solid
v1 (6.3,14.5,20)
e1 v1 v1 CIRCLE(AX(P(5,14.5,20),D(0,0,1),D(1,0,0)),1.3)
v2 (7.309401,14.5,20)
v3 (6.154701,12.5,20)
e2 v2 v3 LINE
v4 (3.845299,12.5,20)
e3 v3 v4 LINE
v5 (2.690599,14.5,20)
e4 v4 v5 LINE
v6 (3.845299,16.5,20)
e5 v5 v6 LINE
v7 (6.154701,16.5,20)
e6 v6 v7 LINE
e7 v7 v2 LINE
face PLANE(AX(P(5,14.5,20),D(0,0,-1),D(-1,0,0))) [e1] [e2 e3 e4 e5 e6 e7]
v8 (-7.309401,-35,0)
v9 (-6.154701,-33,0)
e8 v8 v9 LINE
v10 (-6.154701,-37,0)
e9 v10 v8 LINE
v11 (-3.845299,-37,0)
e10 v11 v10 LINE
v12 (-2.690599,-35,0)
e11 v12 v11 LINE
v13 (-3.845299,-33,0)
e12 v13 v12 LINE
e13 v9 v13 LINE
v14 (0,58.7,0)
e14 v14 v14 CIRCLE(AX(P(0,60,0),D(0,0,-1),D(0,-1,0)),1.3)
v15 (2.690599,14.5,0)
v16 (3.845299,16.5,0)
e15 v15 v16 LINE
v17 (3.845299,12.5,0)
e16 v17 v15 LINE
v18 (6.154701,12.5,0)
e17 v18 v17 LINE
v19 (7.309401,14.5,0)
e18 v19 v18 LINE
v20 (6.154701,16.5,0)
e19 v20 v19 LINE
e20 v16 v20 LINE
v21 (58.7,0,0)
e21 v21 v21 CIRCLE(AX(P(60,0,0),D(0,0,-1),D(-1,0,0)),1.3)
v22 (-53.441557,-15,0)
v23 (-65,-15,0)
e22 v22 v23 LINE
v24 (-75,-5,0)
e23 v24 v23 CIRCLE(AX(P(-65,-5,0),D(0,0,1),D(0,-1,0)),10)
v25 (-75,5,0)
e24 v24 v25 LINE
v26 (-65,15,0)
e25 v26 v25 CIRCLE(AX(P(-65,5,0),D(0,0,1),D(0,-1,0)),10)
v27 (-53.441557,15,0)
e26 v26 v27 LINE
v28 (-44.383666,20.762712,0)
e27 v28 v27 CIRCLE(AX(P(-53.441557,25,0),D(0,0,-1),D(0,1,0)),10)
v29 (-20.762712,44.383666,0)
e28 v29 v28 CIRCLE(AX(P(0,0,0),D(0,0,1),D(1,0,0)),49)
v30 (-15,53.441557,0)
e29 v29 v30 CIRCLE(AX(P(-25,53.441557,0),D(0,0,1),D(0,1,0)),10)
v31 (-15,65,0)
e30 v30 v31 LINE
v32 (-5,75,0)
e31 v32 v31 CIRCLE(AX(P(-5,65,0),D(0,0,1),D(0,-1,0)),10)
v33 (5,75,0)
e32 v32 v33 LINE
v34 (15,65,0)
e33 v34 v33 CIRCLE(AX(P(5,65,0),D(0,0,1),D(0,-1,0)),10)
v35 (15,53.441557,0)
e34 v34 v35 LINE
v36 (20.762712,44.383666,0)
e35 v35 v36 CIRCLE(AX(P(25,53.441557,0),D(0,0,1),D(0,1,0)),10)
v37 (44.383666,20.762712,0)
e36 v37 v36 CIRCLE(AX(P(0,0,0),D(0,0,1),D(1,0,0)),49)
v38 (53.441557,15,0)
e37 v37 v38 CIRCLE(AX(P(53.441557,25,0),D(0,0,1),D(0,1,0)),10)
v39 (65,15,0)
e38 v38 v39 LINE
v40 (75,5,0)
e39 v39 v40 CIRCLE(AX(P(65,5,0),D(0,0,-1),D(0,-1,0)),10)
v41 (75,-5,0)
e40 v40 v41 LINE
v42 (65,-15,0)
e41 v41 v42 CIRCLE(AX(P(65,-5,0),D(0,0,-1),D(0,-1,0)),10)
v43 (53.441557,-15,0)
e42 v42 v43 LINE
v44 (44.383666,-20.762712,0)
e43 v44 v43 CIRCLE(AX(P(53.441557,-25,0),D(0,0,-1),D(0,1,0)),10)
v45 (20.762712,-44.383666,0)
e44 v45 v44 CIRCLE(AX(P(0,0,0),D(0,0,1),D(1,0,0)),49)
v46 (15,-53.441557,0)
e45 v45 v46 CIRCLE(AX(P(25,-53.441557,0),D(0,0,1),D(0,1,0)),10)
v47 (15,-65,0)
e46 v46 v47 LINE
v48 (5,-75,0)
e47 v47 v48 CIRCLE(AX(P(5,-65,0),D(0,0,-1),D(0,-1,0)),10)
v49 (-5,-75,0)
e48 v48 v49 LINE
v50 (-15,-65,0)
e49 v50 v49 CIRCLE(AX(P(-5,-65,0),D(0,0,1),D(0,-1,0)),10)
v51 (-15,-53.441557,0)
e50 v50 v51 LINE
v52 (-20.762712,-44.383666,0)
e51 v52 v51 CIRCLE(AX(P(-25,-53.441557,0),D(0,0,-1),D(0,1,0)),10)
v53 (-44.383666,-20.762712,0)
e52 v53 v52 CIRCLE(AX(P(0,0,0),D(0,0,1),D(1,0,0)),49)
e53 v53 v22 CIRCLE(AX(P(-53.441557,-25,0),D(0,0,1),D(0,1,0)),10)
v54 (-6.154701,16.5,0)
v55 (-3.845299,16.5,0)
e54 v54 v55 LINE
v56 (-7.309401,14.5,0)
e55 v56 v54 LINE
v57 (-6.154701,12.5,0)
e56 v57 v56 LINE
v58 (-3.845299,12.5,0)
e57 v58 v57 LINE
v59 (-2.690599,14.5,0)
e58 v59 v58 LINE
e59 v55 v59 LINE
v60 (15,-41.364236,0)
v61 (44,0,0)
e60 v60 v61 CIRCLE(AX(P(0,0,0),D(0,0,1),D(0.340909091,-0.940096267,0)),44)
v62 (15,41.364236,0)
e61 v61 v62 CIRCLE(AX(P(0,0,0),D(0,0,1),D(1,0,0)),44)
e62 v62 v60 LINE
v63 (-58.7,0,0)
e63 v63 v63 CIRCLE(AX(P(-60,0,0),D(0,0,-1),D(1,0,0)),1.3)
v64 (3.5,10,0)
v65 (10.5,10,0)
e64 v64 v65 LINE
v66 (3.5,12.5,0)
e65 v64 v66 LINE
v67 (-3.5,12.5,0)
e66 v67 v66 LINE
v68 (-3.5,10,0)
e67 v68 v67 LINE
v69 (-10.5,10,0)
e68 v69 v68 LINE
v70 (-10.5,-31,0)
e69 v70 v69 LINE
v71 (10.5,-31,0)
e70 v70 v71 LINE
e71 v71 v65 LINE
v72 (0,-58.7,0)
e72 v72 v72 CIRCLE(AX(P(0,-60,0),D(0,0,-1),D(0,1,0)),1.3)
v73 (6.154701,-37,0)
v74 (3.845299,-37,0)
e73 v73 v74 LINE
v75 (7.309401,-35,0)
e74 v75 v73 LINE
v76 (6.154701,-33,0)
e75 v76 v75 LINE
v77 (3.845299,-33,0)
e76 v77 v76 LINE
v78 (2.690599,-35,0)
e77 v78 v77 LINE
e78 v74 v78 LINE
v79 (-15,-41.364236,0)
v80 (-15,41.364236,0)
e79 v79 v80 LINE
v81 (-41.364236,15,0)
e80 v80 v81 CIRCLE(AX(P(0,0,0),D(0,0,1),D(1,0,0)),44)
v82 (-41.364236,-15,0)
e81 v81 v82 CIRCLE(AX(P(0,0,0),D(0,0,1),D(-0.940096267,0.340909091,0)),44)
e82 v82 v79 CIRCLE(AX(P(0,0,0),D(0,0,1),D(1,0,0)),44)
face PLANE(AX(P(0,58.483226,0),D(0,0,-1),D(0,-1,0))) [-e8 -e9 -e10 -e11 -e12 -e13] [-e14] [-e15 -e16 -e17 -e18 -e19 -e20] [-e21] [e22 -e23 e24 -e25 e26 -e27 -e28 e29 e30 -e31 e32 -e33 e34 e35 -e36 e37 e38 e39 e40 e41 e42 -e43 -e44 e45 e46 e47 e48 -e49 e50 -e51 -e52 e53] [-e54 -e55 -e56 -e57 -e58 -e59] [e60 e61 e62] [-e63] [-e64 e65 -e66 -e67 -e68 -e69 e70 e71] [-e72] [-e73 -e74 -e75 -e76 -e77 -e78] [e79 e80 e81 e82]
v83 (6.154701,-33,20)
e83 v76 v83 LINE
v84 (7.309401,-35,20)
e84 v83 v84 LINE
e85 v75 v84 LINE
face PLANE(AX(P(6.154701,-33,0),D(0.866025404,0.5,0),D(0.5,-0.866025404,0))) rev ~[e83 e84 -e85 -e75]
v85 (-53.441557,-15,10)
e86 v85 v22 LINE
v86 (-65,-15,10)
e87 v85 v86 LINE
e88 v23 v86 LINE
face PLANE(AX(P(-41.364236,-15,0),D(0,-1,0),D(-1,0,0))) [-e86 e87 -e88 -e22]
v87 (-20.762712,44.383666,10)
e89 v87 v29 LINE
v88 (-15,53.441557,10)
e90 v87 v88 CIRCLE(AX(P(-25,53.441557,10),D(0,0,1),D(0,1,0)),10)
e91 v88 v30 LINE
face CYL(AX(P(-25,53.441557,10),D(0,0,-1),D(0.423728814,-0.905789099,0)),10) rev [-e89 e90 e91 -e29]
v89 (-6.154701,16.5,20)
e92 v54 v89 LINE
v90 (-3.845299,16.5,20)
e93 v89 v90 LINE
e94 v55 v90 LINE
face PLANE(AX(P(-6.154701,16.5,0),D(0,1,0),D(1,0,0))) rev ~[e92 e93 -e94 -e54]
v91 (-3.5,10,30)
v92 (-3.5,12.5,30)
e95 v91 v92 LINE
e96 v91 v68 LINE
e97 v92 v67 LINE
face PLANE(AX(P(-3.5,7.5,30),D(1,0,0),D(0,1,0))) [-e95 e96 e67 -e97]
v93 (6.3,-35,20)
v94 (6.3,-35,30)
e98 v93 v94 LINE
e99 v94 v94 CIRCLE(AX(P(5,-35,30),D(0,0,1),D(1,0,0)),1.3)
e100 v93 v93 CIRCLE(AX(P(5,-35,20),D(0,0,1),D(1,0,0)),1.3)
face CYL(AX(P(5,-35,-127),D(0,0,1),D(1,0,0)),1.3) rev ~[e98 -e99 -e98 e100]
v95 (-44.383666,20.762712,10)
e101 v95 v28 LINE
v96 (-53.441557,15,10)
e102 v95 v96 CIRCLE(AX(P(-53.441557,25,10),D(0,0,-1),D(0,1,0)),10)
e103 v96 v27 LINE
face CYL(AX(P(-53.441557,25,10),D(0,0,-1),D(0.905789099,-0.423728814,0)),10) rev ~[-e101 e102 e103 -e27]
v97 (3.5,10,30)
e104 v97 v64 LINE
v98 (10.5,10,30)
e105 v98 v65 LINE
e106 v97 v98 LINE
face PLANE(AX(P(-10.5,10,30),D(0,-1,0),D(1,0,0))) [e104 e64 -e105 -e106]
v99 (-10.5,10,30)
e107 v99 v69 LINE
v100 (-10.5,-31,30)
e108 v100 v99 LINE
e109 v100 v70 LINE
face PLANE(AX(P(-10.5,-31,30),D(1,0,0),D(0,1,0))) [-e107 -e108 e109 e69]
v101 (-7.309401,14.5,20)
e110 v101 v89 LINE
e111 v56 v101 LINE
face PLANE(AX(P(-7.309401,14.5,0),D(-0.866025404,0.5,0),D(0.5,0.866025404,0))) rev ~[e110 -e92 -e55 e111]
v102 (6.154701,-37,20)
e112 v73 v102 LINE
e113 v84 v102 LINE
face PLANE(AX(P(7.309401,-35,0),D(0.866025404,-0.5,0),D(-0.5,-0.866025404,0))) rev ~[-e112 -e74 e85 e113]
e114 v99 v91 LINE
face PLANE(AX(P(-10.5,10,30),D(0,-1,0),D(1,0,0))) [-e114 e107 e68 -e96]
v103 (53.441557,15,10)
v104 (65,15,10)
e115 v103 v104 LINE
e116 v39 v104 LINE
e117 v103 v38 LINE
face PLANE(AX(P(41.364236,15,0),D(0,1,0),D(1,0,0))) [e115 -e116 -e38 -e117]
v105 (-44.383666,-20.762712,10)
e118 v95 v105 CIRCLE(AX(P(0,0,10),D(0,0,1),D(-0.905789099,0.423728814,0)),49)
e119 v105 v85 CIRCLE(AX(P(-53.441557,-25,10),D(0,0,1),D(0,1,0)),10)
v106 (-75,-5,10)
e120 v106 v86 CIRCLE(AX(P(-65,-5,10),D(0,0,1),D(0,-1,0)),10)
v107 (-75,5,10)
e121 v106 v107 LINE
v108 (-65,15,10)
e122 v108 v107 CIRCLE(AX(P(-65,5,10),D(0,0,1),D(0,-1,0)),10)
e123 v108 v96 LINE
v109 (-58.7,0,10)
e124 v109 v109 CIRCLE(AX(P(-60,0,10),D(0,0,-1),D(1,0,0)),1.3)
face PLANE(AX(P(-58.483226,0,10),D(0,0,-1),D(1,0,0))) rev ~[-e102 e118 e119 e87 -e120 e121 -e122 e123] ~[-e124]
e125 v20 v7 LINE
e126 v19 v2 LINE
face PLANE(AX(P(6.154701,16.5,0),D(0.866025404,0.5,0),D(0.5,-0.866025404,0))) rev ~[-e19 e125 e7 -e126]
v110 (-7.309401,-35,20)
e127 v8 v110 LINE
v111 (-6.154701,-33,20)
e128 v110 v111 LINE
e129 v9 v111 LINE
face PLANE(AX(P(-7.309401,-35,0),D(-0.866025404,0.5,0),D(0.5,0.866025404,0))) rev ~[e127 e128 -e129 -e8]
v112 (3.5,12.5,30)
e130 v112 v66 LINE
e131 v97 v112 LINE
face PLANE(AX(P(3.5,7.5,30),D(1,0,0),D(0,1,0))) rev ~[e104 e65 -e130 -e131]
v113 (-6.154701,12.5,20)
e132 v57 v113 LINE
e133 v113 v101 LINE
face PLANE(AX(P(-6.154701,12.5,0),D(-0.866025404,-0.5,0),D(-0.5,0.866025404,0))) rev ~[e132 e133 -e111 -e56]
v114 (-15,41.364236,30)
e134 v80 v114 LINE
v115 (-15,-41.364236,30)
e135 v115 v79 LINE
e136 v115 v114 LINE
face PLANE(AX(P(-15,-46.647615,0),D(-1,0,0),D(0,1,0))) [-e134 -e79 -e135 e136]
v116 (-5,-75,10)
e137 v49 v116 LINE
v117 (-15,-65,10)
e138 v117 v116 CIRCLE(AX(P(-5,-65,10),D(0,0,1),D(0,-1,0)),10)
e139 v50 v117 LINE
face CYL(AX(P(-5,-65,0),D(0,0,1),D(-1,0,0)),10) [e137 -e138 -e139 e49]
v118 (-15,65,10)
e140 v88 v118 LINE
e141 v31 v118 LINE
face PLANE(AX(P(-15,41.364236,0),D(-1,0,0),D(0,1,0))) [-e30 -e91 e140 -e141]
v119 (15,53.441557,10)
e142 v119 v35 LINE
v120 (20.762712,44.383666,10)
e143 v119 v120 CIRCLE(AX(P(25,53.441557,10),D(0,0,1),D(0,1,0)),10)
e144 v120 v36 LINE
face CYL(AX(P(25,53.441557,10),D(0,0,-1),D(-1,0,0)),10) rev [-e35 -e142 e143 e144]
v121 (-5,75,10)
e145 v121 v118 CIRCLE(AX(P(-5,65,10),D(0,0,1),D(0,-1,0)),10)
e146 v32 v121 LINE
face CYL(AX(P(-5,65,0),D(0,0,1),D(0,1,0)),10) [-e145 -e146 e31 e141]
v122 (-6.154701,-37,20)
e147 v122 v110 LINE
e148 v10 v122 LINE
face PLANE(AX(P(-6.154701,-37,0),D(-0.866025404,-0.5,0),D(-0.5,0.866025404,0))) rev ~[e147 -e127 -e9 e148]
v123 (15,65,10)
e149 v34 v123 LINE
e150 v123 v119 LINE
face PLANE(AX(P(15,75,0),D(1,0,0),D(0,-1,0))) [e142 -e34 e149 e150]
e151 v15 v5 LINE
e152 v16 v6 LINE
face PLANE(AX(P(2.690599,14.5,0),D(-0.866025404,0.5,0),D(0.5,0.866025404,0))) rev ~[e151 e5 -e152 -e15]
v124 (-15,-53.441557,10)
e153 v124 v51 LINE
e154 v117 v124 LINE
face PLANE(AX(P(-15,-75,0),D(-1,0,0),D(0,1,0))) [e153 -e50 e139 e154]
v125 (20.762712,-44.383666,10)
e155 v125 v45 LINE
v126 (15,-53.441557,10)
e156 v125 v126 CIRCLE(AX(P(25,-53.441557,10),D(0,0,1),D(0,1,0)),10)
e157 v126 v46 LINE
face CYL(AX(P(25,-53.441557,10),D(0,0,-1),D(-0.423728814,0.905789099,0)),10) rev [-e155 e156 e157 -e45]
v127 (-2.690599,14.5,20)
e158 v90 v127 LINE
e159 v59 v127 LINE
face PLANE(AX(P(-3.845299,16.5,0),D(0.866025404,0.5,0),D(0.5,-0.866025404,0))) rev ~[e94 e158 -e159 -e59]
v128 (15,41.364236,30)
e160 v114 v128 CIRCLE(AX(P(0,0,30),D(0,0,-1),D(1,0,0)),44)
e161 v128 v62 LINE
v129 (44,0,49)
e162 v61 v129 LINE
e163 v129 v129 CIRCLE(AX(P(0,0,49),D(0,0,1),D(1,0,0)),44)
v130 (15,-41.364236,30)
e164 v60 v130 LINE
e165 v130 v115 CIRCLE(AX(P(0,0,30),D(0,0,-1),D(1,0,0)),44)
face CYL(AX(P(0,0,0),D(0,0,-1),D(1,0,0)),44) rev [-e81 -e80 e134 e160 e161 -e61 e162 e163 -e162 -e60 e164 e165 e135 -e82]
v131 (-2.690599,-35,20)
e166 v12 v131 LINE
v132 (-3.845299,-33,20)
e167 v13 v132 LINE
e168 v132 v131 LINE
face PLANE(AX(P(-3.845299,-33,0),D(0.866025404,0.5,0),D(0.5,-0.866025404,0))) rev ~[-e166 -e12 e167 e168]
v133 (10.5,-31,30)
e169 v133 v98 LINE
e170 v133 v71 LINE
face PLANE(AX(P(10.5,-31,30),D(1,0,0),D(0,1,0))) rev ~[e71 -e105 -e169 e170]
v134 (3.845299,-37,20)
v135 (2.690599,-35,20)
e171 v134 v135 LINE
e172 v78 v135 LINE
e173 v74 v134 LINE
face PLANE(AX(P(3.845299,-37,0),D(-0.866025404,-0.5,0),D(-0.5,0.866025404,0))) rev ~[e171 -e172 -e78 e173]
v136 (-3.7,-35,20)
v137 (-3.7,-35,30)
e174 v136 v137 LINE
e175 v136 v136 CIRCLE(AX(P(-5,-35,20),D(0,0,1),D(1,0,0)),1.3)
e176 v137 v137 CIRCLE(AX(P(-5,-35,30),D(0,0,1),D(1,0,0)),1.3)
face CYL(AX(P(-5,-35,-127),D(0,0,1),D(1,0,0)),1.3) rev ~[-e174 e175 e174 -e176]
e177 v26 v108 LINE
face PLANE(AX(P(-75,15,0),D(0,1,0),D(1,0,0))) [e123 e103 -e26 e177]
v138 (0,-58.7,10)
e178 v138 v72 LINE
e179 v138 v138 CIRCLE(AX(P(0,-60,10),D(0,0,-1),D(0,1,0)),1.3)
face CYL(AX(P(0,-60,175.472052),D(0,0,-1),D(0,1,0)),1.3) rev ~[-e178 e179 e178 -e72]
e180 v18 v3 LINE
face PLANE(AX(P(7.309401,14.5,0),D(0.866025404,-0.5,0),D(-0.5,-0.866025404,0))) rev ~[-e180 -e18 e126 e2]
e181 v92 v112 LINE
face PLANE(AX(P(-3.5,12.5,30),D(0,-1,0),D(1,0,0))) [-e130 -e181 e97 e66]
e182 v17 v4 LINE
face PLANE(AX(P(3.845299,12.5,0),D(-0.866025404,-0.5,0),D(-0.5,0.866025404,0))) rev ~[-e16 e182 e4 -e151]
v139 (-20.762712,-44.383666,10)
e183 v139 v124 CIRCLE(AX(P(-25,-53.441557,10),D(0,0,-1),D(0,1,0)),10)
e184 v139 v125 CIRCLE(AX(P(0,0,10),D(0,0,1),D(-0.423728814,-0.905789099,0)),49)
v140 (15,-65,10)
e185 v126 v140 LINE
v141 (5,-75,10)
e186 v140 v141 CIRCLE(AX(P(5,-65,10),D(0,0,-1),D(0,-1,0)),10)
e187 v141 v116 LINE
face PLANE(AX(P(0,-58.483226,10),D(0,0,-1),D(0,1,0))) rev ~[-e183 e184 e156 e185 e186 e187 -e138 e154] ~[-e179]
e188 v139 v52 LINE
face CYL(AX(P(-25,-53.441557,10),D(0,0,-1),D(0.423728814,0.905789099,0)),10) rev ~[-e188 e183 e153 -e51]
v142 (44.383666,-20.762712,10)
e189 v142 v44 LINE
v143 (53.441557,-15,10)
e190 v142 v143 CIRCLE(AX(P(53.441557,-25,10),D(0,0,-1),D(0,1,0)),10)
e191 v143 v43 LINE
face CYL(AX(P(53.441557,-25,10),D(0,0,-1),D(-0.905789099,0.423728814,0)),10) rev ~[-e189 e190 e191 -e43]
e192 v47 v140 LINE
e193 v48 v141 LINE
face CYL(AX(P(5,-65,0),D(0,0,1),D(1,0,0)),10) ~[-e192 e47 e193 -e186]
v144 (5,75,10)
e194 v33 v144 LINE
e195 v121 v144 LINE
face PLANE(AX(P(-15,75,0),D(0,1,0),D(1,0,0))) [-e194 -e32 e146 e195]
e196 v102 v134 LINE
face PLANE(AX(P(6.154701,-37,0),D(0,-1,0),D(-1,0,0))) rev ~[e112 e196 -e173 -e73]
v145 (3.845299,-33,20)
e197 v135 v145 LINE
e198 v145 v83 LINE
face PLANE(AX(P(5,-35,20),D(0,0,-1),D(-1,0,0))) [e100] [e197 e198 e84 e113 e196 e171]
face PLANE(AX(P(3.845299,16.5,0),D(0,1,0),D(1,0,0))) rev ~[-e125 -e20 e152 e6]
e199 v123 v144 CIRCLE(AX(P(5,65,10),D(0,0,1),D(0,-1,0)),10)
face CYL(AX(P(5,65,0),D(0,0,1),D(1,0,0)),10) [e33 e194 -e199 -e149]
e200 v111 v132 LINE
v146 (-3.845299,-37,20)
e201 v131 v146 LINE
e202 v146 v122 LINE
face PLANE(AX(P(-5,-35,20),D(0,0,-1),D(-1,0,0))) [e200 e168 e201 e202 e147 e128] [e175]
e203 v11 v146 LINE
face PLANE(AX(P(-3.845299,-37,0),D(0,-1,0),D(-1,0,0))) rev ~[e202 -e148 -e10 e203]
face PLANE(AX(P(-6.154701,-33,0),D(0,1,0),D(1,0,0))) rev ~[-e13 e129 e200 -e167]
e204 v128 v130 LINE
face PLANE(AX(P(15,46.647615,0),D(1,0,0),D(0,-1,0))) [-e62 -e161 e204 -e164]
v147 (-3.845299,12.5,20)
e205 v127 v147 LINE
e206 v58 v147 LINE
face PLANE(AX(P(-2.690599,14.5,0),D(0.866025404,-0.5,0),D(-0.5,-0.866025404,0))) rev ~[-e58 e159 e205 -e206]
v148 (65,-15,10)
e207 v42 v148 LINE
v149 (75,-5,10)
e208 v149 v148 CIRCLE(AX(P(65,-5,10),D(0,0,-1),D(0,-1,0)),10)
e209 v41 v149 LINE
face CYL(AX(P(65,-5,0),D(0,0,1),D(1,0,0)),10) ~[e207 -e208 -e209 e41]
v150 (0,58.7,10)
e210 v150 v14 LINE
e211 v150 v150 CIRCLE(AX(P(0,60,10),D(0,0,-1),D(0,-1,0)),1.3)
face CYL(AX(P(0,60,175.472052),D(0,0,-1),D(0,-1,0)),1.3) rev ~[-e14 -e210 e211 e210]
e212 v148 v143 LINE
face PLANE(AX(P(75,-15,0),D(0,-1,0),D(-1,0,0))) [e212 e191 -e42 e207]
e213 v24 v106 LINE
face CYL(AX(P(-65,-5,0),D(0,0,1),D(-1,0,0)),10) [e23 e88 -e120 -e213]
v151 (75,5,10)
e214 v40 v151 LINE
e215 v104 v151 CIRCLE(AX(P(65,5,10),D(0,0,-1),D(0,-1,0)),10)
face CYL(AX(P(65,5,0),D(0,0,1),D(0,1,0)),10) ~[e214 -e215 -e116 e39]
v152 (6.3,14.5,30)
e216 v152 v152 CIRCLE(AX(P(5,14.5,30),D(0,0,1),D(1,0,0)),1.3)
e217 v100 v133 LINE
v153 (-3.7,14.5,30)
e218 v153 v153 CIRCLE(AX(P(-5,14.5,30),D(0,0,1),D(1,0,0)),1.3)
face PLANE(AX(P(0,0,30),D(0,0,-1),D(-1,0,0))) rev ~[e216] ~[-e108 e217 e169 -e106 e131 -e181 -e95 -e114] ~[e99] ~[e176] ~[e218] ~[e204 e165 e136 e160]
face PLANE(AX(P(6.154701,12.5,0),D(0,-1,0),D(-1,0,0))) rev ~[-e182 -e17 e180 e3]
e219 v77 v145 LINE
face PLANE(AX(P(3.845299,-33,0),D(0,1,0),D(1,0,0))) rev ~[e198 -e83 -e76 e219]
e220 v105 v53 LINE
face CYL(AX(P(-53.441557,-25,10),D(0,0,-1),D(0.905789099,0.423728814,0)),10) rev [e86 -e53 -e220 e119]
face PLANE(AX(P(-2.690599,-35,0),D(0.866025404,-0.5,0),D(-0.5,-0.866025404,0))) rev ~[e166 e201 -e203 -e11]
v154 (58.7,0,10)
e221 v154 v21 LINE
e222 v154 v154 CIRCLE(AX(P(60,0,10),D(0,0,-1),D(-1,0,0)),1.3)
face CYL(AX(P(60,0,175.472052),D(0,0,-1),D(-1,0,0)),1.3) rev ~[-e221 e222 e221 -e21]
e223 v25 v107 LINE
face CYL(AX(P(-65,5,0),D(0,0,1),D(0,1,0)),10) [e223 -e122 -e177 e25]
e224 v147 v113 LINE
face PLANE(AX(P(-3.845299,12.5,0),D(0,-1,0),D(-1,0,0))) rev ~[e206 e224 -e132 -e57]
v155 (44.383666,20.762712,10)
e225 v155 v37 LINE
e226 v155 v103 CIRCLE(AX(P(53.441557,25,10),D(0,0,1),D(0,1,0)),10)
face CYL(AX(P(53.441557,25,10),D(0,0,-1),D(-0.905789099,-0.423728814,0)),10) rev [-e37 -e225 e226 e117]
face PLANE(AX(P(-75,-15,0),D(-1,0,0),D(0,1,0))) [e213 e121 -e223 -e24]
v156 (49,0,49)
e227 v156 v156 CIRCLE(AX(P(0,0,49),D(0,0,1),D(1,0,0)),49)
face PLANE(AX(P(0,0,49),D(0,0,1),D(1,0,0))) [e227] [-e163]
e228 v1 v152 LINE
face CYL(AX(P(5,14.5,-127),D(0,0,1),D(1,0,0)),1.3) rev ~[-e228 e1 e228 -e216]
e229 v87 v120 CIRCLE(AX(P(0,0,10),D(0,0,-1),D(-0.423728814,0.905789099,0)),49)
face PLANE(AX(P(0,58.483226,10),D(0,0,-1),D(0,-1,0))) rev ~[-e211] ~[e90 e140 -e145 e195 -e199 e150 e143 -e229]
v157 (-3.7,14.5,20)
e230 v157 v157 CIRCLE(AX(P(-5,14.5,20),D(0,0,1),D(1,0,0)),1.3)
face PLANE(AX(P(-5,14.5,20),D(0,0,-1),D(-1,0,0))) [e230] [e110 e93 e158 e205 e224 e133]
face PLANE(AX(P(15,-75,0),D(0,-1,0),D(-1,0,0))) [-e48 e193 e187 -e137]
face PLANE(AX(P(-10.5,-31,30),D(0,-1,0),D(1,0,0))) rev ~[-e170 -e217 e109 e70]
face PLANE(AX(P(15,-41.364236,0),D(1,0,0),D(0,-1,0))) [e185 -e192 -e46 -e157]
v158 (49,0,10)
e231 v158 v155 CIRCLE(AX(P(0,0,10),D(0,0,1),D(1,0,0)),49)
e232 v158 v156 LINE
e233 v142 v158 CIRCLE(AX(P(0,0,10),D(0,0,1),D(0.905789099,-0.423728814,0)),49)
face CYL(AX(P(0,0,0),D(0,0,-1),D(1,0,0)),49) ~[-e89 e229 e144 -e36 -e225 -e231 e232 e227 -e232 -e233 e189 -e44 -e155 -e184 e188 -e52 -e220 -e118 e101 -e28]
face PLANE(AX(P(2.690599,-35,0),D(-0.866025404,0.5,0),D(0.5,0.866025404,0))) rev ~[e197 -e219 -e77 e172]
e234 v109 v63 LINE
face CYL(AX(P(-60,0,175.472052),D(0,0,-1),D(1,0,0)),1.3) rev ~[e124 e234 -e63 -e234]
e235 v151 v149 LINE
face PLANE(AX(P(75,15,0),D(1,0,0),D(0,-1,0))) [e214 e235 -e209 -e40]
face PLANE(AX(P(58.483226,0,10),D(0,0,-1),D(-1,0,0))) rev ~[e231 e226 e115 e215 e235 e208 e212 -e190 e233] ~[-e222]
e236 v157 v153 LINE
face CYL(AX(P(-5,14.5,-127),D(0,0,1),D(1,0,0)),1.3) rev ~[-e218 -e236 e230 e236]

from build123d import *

# Parameters (mm, degrees)
SZKIC1_R                    = 49
SZKIC1_R_2                  = 44
DODANIE_WYCI_GNI_CIE1_DEPTH = 49
DODANIE_WYCI_GNI_CIE2_DEPTH = 30
SZKIC3_W                    = 21
SZKIC3_H                    = 41
WYTNIJ_WYCI_GNI_CIE1_DEPTH  = 30
WYTNIJ_WYCI_GNI_CIE2_DEPTH  = 20
OTW_R_POD_RUB_M21_D         = 2.6
WYTNIJ_WYCI_GNI_CIE3_REACH  = 77.512
SZKIC8_W                    = 7
SZKIC8_H                    = 5
DODANIE_WYCI_GNI_CIE3_DEPTH = 10
OTW_R_POD_RUB_M22_D         = 2.6
SZYK_KO_OWY1_COUNT          = 4
ZAOKR_GLENIE1_R             = 10


with BuildPart() as part:
    # Szkic1 → Dodanie-wyciągnięcie1 (new body)
    with BuildSketch(Plane.XY):
        Circle(SZKIC1_R)
        Circle(SZKIC1_R_2, mode=Mode.SUBTRACT)
    extrude(amount=DODANIE_WYCI_GNI_CIE1_DEPTH)

    # Szkic2 → Dodanie-wyciągnięcie2 (add)
    with BuildSketch(Plane.XY):
        with BuildLine():
            Line((15, 46.647615159), (15, -46.647615159))
            ThreePointArc((15, -46.647615159), (0, -49), (-15, -46.647615159))
            Line((-15, -46.647615159), (-15, 46.647615159))
            ThreePointArc((-15, 46.647615159), (0, 49), (15, 46.647615159))
        make_face()
    extrude(amount=DODANIE_WYCI_GNI_CIE2_DEPTH)

    # Szkic3 → Wytnij-wyciągnięcie1 (cut)
    with BuildSketch(Plane.XY.offset(30)):
        with Locations((0, -10.5)):
            Rectangle(SZKIC3_W, SZKIC3_H)
    extrude(amount=-WYTNIJ_WYCI_GNI_CIE1_DEPTH, mode=Mode.SUBTRACT)

    # Szkic5 → Wytnij-wyciągnięcie2 (cut)
    with BuildSketch(Plane(origin=(0, 0, 0), x_dir=(-1, 0, 0), z_dir=(0, 0, -1))):
        Polygon((6.154700538, -33), (3.845299462, -33), (2.690598923, -35), (3.845299462, -37), (6.154700538, -37), (7.309401077, -35), align=None)
    wytnij_wyci_gni_cie2 = extrude(amount=-WYTNIJ_WYCI_GNI_CIE2_DEPTH, mode=Mode.SUBTRACT)

    # Szkic-szyk1: Wytnij-wyciągnięcie2 at 3 more places
    with Locations((0, 49.5, 0), (10, 49.5, 0), (10, 0, 0)):
        add(wytnij_wyci_gni_cie2, mode=Mode.SUBTRACT)

    # Otwór pod śrubę M21 (through all)
    with Locations(Plane(origin=(0, 0, 20), x_dir=(-1, 0, 0), z_dir=(0, 0, -1))):
        with Locations((-5, 14.5)):
            otw_r_pod_rub_m21 = Hole(OTW_R_POD_RUB_M21_D / 2)

    # Szkic-szyk2: Otwór pod śrubę M21 at 3 more places
    with Locations((-10, 0, 0), (0, -49.5, 0), (-10, -49.5, 0)):
        add(otw_r_pod_rub_m21, mode=Mode.SUBTRACT)

    # Szkic8 → Wytnij-wyciągnięcie3 (cut, up to next)
    with BuildSketch(Plane.XY.offset(30), mode=Mode.PRIVATE) as wytnij_wyci_gni_cie3_sk1:
        with Locations((0, 10)):
            Rectangle(SZKIC8_W, SZKIC8_H)
    wytnij_wyci_gni_cie3_tool1 = extrude(wytnij_wyci_gni_cie3_sk1.sketch, amount=-WYTNIJ_WYCI_GNI_CIE3_REACH, mode=Mode.PRIVATE) & part.part
    add(wytnij_wyci_gni_cie3_tool1.solids().sort_by_distance((0, 10, 30))[0], mode=Mode.SUBTRACT)

    # Szkic9 → Dodanie-wyciągnięcie3 (add)
    with BuildSketch(Plane(origin=(0, 0, 0), x_dir=(-1, 0, 0), z_dir=(0, 0, -1))):
        with BuildLine():
            Line((-75, -15), (-41.36423576, -15))
            ThreePointArc((-41.36423576, -15), (-44, 0), (-41.36423576, 15))
            Line((-41.36423576, 15), (-75, 15))
            Line((-75, 15), (-75, -15))
        make_face()
    dodanie_wyci_gni_cie3 = extrude(amount=-DODANIE_WYCI_GNI_CIE3_DEPTH)

    # Otwór pod śrubę M22 (through all)
    with Locations(Plane.XY.offset(10)):
        with Locations((60, 0)):
            otw_r_pod_rub_m22 = Hole(OTW_R_POD_RUB_M22_D / 2)

    # Szyk kołowy1: Dodanie-wyciągnięcie3, Otwór pod śrubę M22 ×4 about axis
    szyk_ko_owy1_axis = Axis((0, 0, 0), (0, 0, 1))
    add([dodanie_wyci_gni_cie3.rotate(szyk_ko_owy1_axis, i * 360 / SZYK_KO_OWY1_COUNT) for i in range(1, SZYK_KO_OWY1_COUNT)])
    add([otw_r_pod_rub_m22.rotate(szyk_ko_owy1_axis, i * 360 / SZYK_KO_OWY1_COUNT) for i in range(1, SZYK_KO_OWY1_COUNT)], mode=Mode.SUBTRACT)

    # Zaokrąglenie1
    zaokr_glenie1_edges = [part.edges().sort_by_distance(p)[0] for p in [
        (46.647615159, -15, 5),
        (46.647615159, 15, 5),
        (75, 15, 5),
        (75, -15, 5),
        (15, -46.647615159, 5),
        (15, -75, 5),
        (-15, -75, 5),
        (-15, -46.647615159, 5),
        (-46.647615159, -15, 5),
        (-75, -15, 5),
        (-75, 15, 5),
        (-46.647615159, 15, 5),
        (-15, 46.647615159, 5),
        (-15, 75, 5),
        (15, 75, 5),
        (15, 46.647615159, 5),
    ]]
    fillet(zaokr_glenie1_edges, radius=ZAOKR_GLENIE1_R)


solid = part.part
